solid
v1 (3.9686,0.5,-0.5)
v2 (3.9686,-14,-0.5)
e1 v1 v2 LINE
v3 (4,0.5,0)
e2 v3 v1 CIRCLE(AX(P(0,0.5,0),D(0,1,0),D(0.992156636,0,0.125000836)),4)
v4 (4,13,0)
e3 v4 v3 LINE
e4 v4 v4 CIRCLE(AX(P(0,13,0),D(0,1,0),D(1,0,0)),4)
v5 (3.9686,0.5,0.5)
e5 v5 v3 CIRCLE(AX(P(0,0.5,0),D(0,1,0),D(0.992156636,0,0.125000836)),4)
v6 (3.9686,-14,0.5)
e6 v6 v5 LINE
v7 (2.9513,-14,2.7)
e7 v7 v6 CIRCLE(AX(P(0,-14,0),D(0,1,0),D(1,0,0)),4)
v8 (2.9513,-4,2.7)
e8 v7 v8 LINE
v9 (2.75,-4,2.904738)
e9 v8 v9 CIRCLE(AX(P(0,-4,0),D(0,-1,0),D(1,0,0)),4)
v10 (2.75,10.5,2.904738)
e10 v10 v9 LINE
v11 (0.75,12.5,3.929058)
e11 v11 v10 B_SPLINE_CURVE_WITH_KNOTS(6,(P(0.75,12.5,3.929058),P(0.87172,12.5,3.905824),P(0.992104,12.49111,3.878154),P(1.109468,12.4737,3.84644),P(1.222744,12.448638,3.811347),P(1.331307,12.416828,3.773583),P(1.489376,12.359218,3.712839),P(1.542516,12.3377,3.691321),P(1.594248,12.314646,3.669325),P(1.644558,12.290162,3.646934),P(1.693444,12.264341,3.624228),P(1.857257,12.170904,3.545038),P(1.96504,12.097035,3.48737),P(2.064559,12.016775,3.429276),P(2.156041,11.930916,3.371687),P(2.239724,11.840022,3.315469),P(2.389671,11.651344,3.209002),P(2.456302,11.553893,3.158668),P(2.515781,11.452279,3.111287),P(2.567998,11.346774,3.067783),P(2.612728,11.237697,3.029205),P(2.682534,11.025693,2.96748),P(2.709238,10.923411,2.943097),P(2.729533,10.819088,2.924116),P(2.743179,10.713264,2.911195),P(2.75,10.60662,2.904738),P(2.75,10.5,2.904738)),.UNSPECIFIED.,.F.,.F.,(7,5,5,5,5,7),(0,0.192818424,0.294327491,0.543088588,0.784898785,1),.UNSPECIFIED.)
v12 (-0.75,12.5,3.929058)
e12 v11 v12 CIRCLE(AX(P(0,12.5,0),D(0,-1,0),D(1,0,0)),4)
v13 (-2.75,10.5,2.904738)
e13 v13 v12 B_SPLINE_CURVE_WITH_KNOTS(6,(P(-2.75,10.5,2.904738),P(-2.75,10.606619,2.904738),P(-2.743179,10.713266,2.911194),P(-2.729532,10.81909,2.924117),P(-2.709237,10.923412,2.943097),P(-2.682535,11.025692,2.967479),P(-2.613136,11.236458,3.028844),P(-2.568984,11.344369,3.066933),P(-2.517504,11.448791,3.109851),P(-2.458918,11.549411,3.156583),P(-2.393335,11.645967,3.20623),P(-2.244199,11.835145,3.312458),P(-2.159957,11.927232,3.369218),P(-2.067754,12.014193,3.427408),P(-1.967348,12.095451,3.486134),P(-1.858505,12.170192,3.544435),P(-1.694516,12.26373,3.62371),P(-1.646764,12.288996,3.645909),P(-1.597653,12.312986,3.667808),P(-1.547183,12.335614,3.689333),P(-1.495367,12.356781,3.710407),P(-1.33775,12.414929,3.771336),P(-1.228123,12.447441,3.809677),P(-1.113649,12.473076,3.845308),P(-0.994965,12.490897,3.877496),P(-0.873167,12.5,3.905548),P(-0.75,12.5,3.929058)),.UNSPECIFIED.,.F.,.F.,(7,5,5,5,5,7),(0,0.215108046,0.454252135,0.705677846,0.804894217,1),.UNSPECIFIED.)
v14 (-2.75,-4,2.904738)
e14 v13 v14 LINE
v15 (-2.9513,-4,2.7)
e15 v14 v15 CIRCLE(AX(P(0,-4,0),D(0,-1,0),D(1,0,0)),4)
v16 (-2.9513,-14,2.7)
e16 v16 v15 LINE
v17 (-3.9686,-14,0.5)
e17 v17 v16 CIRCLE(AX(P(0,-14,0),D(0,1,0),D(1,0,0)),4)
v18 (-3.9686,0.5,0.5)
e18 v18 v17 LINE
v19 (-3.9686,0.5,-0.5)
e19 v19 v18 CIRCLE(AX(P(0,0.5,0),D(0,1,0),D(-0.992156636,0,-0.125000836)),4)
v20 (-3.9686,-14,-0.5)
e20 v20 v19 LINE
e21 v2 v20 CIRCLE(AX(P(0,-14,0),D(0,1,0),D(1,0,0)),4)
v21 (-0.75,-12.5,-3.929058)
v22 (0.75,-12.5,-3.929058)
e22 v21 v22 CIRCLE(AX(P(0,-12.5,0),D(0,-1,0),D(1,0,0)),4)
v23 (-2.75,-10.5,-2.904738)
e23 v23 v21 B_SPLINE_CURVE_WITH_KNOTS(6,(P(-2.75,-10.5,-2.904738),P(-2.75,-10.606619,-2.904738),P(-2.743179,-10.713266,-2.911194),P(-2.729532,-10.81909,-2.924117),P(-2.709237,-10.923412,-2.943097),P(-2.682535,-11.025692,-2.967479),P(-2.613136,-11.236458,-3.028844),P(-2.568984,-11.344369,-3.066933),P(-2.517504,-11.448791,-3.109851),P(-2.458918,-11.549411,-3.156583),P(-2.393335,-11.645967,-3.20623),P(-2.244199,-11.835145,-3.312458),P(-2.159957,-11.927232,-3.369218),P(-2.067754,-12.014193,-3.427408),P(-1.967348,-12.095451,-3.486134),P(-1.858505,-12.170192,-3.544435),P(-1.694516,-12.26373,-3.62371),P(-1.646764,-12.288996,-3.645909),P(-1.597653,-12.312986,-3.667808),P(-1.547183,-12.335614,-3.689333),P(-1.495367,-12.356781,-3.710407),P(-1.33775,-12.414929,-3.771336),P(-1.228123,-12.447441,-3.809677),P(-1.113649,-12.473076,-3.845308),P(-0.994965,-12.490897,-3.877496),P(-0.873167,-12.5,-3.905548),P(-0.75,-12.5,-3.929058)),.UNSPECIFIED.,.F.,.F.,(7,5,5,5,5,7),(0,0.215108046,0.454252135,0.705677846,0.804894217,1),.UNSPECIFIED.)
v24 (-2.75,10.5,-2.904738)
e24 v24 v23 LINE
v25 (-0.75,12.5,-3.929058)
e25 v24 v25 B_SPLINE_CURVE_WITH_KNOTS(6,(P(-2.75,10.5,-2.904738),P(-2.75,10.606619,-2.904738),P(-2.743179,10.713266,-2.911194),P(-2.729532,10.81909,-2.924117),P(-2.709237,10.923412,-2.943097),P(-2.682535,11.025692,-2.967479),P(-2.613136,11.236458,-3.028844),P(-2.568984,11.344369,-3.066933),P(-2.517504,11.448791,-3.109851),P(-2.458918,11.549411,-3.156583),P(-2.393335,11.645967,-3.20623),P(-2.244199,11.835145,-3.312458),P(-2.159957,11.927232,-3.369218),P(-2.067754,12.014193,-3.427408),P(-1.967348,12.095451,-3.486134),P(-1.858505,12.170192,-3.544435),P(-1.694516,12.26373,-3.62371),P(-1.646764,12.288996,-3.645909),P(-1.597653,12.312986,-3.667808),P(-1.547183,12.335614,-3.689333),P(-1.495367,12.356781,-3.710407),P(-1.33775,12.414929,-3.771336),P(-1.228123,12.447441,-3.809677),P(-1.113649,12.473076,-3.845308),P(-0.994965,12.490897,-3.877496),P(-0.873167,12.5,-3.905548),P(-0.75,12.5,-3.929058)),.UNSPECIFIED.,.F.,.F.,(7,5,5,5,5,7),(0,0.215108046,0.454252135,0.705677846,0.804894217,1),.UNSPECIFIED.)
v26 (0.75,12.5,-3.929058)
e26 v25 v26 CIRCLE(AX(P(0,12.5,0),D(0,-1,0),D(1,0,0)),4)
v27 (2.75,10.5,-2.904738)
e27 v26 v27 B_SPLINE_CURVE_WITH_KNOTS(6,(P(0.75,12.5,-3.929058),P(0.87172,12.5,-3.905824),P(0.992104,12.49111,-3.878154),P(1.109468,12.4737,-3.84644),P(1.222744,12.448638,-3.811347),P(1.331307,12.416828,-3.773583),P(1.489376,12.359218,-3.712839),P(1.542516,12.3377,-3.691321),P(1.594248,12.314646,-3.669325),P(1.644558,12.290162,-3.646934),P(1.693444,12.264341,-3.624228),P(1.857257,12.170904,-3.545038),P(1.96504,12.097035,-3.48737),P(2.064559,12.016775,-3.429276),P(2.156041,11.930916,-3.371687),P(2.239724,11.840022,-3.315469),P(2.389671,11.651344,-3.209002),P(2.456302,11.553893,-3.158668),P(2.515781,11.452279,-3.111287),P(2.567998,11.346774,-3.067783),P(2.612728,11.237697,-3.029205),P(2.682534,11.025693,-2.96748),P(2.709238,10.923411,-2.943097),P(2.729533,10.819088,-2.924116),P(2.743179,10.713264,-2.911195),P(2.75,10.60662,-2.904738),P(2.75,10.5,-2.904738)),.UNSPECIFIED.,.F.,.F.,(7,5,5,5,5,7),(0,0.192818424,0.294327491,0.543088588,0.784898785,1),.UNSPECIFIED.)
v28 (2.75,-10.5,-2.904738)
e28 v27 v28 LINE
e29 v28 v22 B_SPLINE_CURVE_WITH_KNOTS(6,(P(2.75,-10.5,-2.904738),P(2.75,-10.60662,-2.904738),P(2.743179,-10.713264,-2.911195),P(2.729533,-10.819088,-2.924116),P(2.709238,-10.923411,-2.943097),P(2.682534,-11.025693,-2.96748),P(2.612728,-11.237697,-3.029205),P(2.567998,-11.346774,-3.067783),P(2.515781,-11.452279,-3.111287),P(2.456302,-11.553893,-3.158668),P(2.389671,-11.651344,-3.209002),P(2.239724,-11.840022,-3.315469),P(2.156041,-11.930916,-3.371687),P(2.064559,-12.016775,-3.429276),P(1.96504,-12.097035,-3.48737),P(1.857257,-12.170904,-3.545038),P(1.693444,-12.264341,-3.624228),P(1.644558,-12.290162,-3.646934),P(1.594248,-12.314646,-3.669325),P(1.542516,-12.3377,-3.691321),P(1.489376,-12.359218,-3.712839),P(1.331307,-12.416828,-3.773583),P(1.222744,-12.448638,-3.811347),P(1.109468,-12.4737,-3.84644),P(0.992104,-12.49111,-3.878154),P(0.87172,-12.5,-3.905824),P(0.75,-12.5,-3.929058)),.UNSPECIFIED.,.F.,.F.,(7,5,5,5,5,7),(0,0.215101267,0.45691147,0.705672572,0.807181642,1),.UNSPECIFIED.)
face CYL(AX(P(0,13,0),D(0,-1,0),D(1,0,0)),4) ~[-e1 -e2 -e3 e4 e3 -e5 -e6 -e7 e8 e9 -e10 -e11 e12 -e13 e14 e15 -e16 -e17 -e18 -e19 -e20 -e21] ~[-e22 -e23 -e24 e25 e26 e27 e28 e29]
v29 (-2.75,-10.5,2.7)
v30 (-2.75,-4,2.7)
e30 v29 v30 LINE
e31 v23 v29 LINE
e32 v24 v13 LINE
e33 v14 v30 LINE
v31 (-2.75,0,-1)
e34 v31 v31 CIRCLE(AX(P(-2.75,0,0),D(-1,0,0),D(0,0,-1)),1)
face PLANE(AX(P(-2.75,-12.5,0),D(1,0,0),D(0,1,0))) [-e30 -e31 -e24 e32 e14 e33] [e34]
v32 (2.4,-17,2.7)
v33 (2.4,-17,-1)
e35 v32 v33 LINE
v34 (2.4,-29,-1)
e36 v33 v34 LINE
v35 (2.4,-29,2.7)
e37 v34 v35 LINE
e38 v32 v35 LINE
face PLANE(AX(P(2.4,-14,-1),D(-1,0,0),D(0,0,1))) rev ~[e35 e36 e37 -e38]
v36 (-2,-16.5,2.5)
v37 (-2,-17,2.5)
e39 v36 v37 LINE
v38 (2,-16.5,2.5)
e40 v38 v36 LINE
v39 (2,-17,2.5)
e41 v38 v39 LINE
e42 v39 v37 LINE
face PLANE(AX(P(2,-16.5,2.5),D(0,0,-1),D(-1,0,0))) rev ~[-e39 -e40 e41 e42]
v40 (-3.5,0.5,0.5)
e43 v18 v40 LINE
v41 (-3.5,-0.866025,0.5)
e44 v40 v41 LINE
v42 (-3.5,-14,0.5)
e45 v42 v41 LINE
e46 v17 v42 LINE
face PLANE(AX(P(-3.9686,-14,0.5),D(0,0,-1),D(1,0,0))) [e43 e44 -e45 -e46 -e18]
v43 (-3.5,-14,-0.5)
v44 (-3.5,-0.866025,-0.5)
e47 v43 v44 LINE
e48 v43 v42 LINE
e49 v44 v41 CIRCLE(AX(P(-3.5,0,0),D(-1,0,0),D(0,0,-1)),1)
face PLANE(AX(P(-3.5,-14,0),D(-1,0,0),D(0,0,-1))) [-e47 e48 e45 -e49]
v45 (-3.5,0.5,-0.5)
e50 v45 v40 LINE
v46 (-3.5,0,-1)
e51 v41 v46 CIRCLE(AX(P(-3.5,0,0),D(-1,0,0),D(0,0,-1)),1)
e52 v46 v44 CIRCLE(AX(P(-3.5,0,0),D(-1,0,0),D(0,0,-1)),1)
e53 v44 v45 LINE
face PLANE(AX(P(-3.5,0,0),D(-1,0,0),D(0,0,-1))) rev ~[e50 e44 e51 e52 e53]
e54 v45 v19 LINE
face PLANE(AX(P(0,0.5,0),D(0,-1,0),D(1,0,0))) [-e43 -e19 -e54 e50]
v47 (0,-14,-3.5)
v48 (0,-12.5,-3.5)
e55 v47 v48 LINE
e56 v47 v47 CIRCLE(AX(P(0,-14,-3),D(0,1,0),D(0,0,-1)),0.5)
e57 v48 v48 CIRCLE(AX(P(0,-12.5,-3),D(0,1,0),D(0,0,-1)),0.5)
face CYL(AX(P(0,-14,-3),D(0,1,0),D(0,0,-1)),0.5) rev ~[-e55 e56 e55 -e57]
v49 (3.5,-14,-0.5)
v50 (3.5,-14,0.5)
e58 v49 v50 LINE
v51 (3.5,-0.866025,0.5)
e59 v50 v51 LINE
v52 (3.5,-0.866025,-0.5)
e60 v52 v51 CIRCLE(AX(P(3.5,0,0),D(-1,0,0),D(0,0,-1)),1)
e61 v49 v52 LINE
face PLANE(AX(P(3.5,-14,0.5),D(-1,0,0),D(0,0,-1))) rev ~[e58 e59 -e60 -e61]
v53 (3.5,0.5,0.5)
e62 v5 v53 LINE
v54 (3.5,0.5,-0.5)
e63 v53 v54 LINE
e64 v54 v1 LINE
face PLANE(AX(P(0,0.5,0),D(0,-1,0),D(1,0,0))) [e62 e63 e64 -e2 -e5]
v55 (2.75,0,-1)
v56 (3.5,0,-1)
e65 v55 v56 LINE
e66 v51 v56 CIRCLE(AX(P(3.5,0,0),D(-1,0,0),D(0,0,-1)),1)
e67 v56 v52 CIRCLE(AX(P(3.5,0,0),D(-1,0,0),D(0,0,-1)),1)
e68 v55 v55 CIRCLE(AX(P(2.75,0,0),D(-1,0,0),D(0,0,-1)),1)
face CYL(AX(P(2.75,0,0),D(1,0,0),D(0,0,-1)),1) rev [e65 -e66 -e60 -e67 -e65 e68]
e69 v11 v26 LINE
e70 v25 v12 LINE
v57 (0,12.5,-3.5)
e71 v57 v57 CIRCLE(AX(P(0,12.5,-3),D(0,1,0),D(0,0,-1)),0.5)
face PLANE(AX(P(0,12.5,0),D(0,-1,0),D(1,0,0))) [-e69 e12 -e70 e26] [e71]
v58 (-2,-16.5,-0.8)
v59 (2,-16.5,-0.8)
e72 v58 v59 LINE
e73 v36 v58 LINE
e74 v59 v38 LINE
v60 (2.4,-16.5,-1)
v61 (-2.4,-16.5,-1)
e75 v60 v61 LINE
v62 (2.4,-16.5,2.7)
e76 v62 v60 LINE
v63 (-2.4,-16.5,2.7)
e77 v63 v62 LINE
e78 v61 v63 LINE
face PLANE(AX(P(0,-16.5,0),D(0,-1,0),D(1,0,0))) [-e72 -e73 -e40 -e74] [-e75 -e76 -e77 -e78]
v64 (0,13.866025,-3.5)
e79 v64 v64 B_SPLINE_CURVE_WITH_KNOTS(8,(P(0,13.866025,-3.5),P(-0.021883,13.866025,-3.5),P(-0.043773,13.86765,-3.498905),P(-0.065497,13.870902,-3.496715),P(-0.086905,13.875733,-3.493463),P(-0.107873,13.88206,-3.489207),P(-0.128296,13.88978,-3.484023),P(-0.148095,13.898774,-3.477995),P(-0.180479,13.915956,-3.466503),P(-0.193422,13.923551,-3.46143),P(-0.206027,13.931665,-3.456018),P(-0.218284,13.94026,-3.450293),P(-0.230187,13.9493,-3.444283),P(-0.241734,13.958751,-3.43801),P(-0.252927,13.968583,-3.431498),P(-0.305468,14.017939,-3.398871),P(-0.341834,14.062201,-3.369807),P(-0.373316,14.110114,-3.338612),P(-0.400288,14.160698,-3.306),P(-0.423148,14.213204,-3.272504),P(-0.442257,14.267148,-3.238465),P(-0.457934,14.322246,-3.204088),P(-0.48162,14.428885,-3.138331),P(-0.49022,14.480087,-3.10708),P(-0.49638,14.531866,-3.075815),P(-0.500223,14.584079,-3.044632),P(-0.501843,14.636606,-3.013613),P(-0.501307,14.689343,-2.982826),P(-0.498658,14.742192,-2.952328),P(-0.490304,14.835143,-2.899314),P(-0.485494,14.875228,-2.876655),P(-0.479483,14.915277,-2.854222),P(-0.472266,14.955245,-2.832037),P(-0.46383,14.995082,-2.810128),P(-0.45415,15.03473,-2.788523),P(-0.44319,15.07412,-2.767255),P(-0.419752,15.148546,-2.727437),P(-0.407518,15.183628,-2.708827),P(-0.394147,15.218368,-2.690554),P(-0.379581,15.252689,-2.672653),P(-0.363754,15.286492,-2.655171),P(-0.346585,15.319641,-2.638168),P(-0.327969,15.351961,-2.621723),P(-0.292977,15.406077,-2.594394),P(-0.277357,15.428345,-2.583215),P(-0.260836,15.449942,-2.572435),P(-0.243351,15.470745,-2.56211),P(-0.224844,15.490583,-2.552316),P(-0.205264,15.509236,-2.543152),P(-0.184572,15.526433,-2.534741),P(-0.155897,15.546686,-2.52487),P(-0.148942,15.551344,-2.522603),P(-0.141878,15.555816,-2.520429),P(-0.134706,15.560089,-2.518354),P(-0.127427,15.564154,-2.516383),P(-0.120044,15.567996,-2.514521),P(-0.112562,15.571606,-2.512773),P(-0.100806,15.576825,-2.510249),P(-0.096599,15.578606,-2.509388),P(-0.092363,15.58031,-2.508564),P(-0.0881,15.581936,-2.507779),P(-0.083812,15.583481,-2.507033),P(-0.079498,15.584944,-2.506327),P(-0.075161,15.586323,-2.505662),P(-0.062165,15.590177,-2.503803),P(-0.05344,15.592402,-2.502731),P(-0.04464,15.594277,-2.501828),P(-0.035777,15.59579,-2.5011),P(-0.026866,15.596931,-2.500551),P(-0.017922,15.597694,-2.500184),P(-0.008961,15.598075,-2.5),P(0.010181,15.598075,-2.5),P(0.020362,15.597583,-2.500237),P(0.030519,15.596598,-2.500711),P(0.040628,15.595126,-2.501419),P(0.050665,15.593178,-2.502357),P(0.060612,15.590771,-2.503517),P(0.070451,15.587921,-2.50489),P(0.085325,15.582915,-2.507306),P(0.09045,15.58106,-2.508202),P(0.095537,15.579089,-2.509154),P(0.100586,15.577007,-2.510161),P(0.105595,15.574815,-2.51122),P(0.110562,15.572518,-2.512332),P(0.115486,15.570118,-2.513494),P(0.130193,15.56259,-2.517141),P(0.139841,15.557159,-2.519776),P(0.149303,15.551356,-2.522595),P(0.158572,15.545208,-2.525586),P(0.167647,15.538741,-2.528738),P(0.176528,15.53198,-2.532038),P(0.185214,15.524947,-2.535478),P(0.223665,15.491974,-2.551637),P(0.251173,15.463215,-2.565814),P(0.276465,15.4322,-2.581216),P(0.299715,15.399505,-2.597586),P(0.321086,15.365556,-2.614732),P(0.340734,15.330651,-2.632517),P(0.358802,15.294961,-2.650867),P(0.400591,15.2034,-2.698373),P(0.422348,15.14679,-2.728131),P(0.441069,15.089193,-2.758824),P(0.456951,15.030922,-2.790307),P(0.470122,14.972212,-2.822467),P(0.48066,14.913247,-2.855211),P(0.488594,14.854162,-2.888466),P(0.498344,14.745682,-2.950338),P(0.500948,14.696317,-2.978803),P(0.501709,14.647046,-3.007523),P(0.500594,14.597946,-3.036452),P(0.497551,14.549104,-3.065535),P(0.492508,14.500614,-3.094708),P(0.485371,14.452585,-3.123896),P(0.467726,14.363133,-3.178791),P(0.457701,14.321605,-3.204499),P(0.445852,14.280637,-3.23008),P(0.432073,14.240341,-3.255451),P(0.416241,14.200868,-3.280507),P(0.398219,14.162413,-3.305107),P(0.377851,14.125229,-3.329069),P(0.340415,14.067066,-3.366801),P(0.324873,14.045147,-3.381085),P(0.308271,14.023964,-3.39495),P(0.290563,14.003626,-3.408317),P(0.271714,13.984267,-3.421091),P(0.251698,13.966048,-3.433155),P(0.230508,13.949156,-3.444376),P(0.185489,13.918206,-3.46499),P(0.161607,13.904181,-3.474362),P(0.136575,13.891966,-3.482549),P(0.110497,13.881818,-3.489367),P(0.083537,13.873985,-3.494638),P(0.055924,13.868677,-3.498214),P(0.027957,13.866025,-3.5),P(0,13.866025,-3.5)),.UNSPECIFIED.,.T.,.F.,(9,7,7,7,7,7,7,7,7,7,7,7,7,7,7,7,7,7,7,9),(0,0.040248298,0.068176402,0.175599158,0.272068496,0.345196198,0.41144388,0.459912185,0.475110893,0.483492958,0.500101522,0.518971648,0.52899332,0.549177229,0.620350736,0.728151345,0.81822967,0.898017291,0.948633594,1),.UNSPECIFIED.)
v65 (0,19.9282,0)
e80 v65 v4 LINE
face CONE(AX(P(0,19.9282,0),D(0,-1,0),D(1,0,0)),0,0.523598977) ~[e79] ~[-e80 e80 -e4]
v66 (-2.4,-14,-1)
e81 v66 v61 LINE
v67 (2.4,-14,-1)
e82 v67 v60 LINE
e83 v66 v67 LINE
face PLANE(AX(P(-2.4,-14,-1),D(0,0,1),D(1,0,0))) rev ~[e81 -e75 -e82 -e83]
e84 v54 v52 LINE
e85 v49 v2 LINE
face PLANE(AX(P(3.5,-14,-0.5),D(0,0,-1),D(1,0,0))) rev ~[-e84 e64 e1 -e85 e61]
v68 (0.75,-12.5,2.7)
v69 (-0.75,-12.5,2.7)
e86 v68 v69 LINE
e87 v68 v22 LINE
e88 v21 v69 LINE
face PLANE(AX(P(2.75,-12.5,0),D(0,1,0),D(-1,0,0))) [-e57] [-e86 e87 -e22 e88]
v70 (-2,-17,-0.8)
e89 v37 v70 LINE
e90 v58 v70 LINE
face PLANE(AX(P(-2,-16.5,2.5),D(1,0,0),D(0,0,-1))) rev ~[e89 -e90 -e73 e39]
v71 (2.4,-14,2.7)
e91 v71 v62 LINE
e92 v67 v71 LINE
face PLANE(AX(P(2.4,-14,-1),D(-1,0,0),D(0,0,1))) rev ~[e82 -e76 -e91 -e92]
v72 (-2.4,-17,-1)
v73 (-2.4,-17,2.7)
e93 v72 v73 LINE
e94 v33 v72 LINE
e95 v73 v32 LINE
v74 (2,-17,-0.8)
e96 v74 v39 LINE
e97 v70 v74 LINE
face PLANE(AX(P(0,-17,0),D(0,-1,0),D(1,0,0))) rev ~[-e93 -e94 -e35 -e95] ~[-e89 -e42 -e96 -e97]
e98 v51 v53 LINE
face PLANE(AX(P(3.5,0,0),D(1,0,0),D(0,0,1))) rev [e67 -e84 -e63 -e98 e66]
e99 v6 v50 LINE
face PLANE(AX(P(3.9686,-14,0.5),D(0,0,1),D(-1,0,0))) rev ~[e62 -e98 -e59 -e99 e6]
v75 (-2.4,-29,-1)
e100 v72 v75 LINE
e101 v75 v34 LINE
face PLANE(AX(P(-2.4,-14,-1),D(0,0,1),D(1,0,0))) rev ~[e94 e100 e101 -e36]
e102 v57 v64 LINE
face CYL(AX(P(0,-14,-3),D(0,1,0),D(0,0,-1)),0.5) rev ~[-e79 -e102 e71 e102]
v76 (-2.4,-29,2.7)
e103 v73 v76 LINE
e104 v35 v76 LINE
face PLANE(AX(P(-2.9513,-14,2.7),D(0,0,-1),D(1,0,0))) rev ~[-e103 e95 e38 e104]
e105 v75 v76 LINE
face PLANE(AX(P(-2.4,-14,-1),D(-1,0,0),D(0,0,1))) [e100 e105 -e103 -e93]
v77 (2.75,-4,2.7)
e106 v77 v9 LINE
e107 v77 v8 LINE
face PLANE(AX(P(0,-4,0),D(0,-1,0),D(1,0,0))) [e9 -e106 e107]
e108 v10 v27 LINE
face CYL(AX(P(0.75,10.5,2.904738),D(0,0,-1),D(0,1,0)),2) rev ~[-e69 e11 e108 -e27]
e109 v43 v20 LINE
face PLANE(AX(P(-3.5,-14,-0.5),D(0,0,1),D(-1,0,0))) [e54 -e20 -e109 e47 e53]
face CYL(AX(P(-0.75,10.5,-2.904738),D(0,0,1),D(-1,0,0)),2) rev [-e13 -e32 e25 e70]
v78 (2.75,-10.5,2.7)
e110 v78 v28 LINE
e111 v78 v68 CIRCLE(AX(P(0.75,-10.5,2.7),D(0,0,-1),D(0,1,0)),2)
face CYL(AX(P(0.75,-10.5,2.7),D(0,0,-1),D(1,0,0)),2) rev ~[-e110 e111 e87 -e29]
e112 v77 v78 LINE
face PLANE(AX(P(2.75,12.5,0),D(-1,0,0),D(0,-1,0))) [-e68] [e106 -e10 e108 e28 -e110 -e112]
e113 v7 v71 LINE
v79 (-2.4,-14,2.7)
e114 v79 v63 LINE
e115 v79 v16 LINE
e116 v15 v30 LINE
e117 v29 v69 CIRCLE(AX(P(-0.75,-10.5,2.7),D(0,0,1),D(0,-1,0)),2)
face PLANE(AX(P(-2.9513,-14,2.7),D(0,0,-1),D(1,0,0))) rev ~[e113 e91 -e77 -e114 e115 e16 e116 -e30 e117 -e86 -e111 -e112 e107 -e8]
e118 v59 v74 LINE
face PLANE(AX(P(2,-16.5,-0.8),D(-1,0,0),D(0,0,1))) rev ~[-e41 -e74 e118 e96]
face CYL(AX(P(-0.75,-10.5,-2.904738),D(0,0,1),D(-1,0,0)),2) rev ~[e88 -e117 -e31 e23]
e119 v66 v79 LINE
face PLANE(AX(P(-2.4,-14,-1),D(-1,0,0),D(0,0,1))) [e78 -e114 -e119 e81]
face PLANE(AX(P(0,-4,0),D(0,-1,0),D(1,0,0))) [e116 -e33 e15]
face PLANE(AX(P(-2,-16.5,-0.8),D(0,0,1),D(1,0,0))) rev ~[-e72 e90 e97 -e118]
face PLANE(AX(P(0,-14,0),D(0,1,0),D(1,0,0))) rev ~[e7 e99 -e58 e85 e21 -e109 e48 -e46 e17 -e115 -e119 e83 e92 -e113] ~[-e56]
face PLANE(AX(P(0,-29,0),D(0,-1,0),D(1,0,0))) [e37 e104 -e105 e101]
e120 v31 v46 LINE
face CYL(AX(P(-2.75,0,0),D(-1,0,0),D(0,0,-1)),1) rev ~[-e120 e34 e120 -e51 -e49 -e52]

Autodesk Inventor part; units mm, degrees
ref_plane "YZ Plane" through (0, 0, 0) normal (1, 0, 0) x (0, 1, 0)
ref_plane "XZ Plane" through (0, 0, 0) normal (0, 1, 0) x (-1, 0, 0)
sketch "Sketch1" plane through (0, 0, 0) normal (0, 0, 1) x (1, 0, 0)
  line L0 (0, 19.9282) -> (4, 13)
  line L1 (4, 13) -> (4, -14)
  line L2 (4, -14) -> (0, -14)
  line L3 (0, -25.9015) -> (0, 19.9282)
  line L4 (2.75, -12.5) -> (-2.75, -12.5)
  line L5 (-2.75, -12.5) -> (-2.75, 12.5)
  line L6 (-2.75, 12.5) -> (2.75, 12.5)
  line L7 (2.75, 12.5) -> (2.75, -12.5)
  point P0 (0, 0)
  dimension "d0" = 30
  dimension "d1" = 4
  dimension "d45" = 14
  dimension "d47" = 2.75
  dimension "d48" = 13
  dimension "d81" = 12.5
  dimension "d82" = 12.5
revolve "main cylinder" add sketch "Sketch1" angle 360 about axis through (0, -25.9015, 0) along (0, 1, 0) contours L0 L1 L2 L3 L4 L7 L6 | L6 L7 L4 L3
extrude "main window" cut sketch "Sketch1" against normal mid plane 25.4 contours L6 L7 L4 L3 | L3 L4 L5 L6
sketch "Sketch2" plane through (-2.75, -12.5, 2.9047) normal (1, 0, 0) x (0, 0, -1)
  point P0 (2.9047, 12.5)
  point P1 (2.9047, 12.5)
hole "full side hole" at (-2.75, 0, 0) direction (-1, 0, 0) diameter 1 depth 25.4
sketch "Sketch3" plane through (0, -14, 0) normal (0, -1, 0) x (1, 0, 0)
  circle A0 centre (0, 0) radius 4
  line L0 (-3.9686, 0.5) -> (-3.5, 0.5)
  line L1 (-3.5, 0.5) -> (-3.5, -0.5)
  line L2 (-3.5, -0.5) -> (-3.9686, -0.5)
  line L3 (-10.1288, 0) -> (5.4225, 0)
  line L4 (0, 8.0973) -> (0, -8.0973)
  line L5 (-2.9513, 2.7) -> (2.9513, 2.7)
  line L6 (3.9686, 0.5) -> (3.5, 0.5)
  line L7 (3.5, 0.5) -> (3.5, -0.5)
  line L8 (3.5, -0.5) -> (3.9686, -0.5)
  line L9 (-1.75, 2.7) -> (-1.7428, 2.7) construction
  line L10 (1.7428, 1.7526) -> (1.75, 1.7526)
  line L11 (-1.7428, 1.7526) -> (-1.75, 1.7526)
  line L12 (1.7428, 2.7) -> (1.75, 2.7) construction
  line L13 (-1.7428, 2.7) -> (1.7428, 2.7)
  point P0 (0, 0)
  point P1 (0, -3)
  point P2 (0, -7)
  point P3 (-3.5536, -1.8362)
  point P4 (3.5536, -1.8362)
  dimension "d14" = 1
  dimension "d15" = 3.5
  dimension "d20" = 3
  dimension "d35" = 2.7
  dimension "d38" = 7
hole "partial side hole" at (-2.75, 0, 0) direction (-1, 0, 0) diameter 2 depth 0.75
extrude "side channels" cut sketch "Sketch3" against normal blind 14.5 contours L3 L7 L6 A0 | A0 L8 L7 L3 | A0 L3 L1 L2 | L3 A0 L0 L1
hole "thread hole" at (0, -14, -3) direction (0, 1, 0) diameter 1 end through all
extrude "Extrusion4" cut sketch "Sketch3" against normal blind 10 contours L5 L4 A0 | L4 L5 A0
extrude "Extrusion5" cut sketch "Sketch3" along normal blind 20 contours A0 L3 L1 L2 | L3 A0 L0 L1
fillet "Fillet1" radius 2 4 edges at (-2.75, 12.5, 0) (2.75, 12.5, 0) (-2.75, -12.5, -0.1024) (2.75, -12.5, -0.1024)
mirror "Mirror4" about plane through (0, 0, 0) normal (1, 0, 0) of "partial side hole", "full side hole"
sketch "Sketch8" plane through (0, -14, 0) normal (0, -1, 0) x (1, 0, 0)
  line L0 (2.9513, 2.7) -> (-2.9513, 2.7) projected
  line L1 (2.9513, 2.7) -> (-2.9513, 2.7) projected
  arc A0 (-2.9513, 2.7) -> (-3.9686, 0.5) centre (0, 0) ccw projected
  line L2 (-3.9686, 0.5) -> (-3.5, 0.5) projected
  line L3 (-3.5, 0.5) -> (-3.5, -0.5) projected
  line L4 (-3.5, -0.5) -> (-3.9686, -0.5) projected
  arc A1 (-3.9686, -0.5) -> (3.9686, -0.5) centre (0, 0) ccw projected
  line L5 (3.9686, -0.5) -> (3.5, -0.5) projected
  line L6 (3.5, -0.5) -> (3.5, 0.5) projected
  line L7 (3.5, 0.5) -> (3.9686, 0.5) projected
  arc A2 (3.9686, 0.5) -> (2.9513, 2.7) centre (0, 0) ccw projected
  circle A3 centre (0, -3) radius 0.5 projected
  line L8 (-2.9513, 2.7) -> (2.9513, 2.7) projected
  circle A4 centre (0, 0) radius 4 projected
  line L9 (-2.4, -1) -> (-2.4, 2.7)
  line L10 (2.4, -1) -> (2.4, 2.7)
  line L11 (-2.4, -1) -> (2.4, -1)
  point P0 (0, 15.9155)
  point P1 (0, -1)
  dimension "d105" = 4.8
  dimension "d115" = 1
extrude "Extrusion11" add sketch "Sketch8" along normal blind 15 contours L10 L11 L9 L0
ref_plane "Work Plane5" through (0, -16.5, 0) normal (0, -1, 0) x (1, 0, 0)
sketch "Sketch9" plane through (0, -16.5, 0) normal (0, -1, 0) x (1, 0, 0)
  line L0 (2.4, -1) -> (-2.4, -1) projected
  line L1 (-2.4, -1) -> (-2.4, 2.7) projected
  line L2 (2.4, 2.7) -> (2.4, -1) projected
  line L3 (-2.9513, 2.7) -> (2.9513, 2.7) projected
  line L4 (2, 2.5) -> (-2, 2.5)
  line L5 (-2, 2.5) -> (-2, -0.8)
  line L6 (-2, -0.8) -> (2, -0.8)
  line L7 (2, -0.8) -> (2, 2.5)
  point P0 (0, 0)
  point P1 (0, 2.5)
  point P2 (0, -1)
  point P3 (0, -1)
  dimension "d108" = 4
  dimension "d109" = 3.3
  dimension "d111" = 0.2
  dimension "d112" = 0.4
extrude "Extrusion12" cut sketch "Sketch9" along normal blind 0.5
properties part number "Rotator Frame_xw" material "SAN Plastic"
